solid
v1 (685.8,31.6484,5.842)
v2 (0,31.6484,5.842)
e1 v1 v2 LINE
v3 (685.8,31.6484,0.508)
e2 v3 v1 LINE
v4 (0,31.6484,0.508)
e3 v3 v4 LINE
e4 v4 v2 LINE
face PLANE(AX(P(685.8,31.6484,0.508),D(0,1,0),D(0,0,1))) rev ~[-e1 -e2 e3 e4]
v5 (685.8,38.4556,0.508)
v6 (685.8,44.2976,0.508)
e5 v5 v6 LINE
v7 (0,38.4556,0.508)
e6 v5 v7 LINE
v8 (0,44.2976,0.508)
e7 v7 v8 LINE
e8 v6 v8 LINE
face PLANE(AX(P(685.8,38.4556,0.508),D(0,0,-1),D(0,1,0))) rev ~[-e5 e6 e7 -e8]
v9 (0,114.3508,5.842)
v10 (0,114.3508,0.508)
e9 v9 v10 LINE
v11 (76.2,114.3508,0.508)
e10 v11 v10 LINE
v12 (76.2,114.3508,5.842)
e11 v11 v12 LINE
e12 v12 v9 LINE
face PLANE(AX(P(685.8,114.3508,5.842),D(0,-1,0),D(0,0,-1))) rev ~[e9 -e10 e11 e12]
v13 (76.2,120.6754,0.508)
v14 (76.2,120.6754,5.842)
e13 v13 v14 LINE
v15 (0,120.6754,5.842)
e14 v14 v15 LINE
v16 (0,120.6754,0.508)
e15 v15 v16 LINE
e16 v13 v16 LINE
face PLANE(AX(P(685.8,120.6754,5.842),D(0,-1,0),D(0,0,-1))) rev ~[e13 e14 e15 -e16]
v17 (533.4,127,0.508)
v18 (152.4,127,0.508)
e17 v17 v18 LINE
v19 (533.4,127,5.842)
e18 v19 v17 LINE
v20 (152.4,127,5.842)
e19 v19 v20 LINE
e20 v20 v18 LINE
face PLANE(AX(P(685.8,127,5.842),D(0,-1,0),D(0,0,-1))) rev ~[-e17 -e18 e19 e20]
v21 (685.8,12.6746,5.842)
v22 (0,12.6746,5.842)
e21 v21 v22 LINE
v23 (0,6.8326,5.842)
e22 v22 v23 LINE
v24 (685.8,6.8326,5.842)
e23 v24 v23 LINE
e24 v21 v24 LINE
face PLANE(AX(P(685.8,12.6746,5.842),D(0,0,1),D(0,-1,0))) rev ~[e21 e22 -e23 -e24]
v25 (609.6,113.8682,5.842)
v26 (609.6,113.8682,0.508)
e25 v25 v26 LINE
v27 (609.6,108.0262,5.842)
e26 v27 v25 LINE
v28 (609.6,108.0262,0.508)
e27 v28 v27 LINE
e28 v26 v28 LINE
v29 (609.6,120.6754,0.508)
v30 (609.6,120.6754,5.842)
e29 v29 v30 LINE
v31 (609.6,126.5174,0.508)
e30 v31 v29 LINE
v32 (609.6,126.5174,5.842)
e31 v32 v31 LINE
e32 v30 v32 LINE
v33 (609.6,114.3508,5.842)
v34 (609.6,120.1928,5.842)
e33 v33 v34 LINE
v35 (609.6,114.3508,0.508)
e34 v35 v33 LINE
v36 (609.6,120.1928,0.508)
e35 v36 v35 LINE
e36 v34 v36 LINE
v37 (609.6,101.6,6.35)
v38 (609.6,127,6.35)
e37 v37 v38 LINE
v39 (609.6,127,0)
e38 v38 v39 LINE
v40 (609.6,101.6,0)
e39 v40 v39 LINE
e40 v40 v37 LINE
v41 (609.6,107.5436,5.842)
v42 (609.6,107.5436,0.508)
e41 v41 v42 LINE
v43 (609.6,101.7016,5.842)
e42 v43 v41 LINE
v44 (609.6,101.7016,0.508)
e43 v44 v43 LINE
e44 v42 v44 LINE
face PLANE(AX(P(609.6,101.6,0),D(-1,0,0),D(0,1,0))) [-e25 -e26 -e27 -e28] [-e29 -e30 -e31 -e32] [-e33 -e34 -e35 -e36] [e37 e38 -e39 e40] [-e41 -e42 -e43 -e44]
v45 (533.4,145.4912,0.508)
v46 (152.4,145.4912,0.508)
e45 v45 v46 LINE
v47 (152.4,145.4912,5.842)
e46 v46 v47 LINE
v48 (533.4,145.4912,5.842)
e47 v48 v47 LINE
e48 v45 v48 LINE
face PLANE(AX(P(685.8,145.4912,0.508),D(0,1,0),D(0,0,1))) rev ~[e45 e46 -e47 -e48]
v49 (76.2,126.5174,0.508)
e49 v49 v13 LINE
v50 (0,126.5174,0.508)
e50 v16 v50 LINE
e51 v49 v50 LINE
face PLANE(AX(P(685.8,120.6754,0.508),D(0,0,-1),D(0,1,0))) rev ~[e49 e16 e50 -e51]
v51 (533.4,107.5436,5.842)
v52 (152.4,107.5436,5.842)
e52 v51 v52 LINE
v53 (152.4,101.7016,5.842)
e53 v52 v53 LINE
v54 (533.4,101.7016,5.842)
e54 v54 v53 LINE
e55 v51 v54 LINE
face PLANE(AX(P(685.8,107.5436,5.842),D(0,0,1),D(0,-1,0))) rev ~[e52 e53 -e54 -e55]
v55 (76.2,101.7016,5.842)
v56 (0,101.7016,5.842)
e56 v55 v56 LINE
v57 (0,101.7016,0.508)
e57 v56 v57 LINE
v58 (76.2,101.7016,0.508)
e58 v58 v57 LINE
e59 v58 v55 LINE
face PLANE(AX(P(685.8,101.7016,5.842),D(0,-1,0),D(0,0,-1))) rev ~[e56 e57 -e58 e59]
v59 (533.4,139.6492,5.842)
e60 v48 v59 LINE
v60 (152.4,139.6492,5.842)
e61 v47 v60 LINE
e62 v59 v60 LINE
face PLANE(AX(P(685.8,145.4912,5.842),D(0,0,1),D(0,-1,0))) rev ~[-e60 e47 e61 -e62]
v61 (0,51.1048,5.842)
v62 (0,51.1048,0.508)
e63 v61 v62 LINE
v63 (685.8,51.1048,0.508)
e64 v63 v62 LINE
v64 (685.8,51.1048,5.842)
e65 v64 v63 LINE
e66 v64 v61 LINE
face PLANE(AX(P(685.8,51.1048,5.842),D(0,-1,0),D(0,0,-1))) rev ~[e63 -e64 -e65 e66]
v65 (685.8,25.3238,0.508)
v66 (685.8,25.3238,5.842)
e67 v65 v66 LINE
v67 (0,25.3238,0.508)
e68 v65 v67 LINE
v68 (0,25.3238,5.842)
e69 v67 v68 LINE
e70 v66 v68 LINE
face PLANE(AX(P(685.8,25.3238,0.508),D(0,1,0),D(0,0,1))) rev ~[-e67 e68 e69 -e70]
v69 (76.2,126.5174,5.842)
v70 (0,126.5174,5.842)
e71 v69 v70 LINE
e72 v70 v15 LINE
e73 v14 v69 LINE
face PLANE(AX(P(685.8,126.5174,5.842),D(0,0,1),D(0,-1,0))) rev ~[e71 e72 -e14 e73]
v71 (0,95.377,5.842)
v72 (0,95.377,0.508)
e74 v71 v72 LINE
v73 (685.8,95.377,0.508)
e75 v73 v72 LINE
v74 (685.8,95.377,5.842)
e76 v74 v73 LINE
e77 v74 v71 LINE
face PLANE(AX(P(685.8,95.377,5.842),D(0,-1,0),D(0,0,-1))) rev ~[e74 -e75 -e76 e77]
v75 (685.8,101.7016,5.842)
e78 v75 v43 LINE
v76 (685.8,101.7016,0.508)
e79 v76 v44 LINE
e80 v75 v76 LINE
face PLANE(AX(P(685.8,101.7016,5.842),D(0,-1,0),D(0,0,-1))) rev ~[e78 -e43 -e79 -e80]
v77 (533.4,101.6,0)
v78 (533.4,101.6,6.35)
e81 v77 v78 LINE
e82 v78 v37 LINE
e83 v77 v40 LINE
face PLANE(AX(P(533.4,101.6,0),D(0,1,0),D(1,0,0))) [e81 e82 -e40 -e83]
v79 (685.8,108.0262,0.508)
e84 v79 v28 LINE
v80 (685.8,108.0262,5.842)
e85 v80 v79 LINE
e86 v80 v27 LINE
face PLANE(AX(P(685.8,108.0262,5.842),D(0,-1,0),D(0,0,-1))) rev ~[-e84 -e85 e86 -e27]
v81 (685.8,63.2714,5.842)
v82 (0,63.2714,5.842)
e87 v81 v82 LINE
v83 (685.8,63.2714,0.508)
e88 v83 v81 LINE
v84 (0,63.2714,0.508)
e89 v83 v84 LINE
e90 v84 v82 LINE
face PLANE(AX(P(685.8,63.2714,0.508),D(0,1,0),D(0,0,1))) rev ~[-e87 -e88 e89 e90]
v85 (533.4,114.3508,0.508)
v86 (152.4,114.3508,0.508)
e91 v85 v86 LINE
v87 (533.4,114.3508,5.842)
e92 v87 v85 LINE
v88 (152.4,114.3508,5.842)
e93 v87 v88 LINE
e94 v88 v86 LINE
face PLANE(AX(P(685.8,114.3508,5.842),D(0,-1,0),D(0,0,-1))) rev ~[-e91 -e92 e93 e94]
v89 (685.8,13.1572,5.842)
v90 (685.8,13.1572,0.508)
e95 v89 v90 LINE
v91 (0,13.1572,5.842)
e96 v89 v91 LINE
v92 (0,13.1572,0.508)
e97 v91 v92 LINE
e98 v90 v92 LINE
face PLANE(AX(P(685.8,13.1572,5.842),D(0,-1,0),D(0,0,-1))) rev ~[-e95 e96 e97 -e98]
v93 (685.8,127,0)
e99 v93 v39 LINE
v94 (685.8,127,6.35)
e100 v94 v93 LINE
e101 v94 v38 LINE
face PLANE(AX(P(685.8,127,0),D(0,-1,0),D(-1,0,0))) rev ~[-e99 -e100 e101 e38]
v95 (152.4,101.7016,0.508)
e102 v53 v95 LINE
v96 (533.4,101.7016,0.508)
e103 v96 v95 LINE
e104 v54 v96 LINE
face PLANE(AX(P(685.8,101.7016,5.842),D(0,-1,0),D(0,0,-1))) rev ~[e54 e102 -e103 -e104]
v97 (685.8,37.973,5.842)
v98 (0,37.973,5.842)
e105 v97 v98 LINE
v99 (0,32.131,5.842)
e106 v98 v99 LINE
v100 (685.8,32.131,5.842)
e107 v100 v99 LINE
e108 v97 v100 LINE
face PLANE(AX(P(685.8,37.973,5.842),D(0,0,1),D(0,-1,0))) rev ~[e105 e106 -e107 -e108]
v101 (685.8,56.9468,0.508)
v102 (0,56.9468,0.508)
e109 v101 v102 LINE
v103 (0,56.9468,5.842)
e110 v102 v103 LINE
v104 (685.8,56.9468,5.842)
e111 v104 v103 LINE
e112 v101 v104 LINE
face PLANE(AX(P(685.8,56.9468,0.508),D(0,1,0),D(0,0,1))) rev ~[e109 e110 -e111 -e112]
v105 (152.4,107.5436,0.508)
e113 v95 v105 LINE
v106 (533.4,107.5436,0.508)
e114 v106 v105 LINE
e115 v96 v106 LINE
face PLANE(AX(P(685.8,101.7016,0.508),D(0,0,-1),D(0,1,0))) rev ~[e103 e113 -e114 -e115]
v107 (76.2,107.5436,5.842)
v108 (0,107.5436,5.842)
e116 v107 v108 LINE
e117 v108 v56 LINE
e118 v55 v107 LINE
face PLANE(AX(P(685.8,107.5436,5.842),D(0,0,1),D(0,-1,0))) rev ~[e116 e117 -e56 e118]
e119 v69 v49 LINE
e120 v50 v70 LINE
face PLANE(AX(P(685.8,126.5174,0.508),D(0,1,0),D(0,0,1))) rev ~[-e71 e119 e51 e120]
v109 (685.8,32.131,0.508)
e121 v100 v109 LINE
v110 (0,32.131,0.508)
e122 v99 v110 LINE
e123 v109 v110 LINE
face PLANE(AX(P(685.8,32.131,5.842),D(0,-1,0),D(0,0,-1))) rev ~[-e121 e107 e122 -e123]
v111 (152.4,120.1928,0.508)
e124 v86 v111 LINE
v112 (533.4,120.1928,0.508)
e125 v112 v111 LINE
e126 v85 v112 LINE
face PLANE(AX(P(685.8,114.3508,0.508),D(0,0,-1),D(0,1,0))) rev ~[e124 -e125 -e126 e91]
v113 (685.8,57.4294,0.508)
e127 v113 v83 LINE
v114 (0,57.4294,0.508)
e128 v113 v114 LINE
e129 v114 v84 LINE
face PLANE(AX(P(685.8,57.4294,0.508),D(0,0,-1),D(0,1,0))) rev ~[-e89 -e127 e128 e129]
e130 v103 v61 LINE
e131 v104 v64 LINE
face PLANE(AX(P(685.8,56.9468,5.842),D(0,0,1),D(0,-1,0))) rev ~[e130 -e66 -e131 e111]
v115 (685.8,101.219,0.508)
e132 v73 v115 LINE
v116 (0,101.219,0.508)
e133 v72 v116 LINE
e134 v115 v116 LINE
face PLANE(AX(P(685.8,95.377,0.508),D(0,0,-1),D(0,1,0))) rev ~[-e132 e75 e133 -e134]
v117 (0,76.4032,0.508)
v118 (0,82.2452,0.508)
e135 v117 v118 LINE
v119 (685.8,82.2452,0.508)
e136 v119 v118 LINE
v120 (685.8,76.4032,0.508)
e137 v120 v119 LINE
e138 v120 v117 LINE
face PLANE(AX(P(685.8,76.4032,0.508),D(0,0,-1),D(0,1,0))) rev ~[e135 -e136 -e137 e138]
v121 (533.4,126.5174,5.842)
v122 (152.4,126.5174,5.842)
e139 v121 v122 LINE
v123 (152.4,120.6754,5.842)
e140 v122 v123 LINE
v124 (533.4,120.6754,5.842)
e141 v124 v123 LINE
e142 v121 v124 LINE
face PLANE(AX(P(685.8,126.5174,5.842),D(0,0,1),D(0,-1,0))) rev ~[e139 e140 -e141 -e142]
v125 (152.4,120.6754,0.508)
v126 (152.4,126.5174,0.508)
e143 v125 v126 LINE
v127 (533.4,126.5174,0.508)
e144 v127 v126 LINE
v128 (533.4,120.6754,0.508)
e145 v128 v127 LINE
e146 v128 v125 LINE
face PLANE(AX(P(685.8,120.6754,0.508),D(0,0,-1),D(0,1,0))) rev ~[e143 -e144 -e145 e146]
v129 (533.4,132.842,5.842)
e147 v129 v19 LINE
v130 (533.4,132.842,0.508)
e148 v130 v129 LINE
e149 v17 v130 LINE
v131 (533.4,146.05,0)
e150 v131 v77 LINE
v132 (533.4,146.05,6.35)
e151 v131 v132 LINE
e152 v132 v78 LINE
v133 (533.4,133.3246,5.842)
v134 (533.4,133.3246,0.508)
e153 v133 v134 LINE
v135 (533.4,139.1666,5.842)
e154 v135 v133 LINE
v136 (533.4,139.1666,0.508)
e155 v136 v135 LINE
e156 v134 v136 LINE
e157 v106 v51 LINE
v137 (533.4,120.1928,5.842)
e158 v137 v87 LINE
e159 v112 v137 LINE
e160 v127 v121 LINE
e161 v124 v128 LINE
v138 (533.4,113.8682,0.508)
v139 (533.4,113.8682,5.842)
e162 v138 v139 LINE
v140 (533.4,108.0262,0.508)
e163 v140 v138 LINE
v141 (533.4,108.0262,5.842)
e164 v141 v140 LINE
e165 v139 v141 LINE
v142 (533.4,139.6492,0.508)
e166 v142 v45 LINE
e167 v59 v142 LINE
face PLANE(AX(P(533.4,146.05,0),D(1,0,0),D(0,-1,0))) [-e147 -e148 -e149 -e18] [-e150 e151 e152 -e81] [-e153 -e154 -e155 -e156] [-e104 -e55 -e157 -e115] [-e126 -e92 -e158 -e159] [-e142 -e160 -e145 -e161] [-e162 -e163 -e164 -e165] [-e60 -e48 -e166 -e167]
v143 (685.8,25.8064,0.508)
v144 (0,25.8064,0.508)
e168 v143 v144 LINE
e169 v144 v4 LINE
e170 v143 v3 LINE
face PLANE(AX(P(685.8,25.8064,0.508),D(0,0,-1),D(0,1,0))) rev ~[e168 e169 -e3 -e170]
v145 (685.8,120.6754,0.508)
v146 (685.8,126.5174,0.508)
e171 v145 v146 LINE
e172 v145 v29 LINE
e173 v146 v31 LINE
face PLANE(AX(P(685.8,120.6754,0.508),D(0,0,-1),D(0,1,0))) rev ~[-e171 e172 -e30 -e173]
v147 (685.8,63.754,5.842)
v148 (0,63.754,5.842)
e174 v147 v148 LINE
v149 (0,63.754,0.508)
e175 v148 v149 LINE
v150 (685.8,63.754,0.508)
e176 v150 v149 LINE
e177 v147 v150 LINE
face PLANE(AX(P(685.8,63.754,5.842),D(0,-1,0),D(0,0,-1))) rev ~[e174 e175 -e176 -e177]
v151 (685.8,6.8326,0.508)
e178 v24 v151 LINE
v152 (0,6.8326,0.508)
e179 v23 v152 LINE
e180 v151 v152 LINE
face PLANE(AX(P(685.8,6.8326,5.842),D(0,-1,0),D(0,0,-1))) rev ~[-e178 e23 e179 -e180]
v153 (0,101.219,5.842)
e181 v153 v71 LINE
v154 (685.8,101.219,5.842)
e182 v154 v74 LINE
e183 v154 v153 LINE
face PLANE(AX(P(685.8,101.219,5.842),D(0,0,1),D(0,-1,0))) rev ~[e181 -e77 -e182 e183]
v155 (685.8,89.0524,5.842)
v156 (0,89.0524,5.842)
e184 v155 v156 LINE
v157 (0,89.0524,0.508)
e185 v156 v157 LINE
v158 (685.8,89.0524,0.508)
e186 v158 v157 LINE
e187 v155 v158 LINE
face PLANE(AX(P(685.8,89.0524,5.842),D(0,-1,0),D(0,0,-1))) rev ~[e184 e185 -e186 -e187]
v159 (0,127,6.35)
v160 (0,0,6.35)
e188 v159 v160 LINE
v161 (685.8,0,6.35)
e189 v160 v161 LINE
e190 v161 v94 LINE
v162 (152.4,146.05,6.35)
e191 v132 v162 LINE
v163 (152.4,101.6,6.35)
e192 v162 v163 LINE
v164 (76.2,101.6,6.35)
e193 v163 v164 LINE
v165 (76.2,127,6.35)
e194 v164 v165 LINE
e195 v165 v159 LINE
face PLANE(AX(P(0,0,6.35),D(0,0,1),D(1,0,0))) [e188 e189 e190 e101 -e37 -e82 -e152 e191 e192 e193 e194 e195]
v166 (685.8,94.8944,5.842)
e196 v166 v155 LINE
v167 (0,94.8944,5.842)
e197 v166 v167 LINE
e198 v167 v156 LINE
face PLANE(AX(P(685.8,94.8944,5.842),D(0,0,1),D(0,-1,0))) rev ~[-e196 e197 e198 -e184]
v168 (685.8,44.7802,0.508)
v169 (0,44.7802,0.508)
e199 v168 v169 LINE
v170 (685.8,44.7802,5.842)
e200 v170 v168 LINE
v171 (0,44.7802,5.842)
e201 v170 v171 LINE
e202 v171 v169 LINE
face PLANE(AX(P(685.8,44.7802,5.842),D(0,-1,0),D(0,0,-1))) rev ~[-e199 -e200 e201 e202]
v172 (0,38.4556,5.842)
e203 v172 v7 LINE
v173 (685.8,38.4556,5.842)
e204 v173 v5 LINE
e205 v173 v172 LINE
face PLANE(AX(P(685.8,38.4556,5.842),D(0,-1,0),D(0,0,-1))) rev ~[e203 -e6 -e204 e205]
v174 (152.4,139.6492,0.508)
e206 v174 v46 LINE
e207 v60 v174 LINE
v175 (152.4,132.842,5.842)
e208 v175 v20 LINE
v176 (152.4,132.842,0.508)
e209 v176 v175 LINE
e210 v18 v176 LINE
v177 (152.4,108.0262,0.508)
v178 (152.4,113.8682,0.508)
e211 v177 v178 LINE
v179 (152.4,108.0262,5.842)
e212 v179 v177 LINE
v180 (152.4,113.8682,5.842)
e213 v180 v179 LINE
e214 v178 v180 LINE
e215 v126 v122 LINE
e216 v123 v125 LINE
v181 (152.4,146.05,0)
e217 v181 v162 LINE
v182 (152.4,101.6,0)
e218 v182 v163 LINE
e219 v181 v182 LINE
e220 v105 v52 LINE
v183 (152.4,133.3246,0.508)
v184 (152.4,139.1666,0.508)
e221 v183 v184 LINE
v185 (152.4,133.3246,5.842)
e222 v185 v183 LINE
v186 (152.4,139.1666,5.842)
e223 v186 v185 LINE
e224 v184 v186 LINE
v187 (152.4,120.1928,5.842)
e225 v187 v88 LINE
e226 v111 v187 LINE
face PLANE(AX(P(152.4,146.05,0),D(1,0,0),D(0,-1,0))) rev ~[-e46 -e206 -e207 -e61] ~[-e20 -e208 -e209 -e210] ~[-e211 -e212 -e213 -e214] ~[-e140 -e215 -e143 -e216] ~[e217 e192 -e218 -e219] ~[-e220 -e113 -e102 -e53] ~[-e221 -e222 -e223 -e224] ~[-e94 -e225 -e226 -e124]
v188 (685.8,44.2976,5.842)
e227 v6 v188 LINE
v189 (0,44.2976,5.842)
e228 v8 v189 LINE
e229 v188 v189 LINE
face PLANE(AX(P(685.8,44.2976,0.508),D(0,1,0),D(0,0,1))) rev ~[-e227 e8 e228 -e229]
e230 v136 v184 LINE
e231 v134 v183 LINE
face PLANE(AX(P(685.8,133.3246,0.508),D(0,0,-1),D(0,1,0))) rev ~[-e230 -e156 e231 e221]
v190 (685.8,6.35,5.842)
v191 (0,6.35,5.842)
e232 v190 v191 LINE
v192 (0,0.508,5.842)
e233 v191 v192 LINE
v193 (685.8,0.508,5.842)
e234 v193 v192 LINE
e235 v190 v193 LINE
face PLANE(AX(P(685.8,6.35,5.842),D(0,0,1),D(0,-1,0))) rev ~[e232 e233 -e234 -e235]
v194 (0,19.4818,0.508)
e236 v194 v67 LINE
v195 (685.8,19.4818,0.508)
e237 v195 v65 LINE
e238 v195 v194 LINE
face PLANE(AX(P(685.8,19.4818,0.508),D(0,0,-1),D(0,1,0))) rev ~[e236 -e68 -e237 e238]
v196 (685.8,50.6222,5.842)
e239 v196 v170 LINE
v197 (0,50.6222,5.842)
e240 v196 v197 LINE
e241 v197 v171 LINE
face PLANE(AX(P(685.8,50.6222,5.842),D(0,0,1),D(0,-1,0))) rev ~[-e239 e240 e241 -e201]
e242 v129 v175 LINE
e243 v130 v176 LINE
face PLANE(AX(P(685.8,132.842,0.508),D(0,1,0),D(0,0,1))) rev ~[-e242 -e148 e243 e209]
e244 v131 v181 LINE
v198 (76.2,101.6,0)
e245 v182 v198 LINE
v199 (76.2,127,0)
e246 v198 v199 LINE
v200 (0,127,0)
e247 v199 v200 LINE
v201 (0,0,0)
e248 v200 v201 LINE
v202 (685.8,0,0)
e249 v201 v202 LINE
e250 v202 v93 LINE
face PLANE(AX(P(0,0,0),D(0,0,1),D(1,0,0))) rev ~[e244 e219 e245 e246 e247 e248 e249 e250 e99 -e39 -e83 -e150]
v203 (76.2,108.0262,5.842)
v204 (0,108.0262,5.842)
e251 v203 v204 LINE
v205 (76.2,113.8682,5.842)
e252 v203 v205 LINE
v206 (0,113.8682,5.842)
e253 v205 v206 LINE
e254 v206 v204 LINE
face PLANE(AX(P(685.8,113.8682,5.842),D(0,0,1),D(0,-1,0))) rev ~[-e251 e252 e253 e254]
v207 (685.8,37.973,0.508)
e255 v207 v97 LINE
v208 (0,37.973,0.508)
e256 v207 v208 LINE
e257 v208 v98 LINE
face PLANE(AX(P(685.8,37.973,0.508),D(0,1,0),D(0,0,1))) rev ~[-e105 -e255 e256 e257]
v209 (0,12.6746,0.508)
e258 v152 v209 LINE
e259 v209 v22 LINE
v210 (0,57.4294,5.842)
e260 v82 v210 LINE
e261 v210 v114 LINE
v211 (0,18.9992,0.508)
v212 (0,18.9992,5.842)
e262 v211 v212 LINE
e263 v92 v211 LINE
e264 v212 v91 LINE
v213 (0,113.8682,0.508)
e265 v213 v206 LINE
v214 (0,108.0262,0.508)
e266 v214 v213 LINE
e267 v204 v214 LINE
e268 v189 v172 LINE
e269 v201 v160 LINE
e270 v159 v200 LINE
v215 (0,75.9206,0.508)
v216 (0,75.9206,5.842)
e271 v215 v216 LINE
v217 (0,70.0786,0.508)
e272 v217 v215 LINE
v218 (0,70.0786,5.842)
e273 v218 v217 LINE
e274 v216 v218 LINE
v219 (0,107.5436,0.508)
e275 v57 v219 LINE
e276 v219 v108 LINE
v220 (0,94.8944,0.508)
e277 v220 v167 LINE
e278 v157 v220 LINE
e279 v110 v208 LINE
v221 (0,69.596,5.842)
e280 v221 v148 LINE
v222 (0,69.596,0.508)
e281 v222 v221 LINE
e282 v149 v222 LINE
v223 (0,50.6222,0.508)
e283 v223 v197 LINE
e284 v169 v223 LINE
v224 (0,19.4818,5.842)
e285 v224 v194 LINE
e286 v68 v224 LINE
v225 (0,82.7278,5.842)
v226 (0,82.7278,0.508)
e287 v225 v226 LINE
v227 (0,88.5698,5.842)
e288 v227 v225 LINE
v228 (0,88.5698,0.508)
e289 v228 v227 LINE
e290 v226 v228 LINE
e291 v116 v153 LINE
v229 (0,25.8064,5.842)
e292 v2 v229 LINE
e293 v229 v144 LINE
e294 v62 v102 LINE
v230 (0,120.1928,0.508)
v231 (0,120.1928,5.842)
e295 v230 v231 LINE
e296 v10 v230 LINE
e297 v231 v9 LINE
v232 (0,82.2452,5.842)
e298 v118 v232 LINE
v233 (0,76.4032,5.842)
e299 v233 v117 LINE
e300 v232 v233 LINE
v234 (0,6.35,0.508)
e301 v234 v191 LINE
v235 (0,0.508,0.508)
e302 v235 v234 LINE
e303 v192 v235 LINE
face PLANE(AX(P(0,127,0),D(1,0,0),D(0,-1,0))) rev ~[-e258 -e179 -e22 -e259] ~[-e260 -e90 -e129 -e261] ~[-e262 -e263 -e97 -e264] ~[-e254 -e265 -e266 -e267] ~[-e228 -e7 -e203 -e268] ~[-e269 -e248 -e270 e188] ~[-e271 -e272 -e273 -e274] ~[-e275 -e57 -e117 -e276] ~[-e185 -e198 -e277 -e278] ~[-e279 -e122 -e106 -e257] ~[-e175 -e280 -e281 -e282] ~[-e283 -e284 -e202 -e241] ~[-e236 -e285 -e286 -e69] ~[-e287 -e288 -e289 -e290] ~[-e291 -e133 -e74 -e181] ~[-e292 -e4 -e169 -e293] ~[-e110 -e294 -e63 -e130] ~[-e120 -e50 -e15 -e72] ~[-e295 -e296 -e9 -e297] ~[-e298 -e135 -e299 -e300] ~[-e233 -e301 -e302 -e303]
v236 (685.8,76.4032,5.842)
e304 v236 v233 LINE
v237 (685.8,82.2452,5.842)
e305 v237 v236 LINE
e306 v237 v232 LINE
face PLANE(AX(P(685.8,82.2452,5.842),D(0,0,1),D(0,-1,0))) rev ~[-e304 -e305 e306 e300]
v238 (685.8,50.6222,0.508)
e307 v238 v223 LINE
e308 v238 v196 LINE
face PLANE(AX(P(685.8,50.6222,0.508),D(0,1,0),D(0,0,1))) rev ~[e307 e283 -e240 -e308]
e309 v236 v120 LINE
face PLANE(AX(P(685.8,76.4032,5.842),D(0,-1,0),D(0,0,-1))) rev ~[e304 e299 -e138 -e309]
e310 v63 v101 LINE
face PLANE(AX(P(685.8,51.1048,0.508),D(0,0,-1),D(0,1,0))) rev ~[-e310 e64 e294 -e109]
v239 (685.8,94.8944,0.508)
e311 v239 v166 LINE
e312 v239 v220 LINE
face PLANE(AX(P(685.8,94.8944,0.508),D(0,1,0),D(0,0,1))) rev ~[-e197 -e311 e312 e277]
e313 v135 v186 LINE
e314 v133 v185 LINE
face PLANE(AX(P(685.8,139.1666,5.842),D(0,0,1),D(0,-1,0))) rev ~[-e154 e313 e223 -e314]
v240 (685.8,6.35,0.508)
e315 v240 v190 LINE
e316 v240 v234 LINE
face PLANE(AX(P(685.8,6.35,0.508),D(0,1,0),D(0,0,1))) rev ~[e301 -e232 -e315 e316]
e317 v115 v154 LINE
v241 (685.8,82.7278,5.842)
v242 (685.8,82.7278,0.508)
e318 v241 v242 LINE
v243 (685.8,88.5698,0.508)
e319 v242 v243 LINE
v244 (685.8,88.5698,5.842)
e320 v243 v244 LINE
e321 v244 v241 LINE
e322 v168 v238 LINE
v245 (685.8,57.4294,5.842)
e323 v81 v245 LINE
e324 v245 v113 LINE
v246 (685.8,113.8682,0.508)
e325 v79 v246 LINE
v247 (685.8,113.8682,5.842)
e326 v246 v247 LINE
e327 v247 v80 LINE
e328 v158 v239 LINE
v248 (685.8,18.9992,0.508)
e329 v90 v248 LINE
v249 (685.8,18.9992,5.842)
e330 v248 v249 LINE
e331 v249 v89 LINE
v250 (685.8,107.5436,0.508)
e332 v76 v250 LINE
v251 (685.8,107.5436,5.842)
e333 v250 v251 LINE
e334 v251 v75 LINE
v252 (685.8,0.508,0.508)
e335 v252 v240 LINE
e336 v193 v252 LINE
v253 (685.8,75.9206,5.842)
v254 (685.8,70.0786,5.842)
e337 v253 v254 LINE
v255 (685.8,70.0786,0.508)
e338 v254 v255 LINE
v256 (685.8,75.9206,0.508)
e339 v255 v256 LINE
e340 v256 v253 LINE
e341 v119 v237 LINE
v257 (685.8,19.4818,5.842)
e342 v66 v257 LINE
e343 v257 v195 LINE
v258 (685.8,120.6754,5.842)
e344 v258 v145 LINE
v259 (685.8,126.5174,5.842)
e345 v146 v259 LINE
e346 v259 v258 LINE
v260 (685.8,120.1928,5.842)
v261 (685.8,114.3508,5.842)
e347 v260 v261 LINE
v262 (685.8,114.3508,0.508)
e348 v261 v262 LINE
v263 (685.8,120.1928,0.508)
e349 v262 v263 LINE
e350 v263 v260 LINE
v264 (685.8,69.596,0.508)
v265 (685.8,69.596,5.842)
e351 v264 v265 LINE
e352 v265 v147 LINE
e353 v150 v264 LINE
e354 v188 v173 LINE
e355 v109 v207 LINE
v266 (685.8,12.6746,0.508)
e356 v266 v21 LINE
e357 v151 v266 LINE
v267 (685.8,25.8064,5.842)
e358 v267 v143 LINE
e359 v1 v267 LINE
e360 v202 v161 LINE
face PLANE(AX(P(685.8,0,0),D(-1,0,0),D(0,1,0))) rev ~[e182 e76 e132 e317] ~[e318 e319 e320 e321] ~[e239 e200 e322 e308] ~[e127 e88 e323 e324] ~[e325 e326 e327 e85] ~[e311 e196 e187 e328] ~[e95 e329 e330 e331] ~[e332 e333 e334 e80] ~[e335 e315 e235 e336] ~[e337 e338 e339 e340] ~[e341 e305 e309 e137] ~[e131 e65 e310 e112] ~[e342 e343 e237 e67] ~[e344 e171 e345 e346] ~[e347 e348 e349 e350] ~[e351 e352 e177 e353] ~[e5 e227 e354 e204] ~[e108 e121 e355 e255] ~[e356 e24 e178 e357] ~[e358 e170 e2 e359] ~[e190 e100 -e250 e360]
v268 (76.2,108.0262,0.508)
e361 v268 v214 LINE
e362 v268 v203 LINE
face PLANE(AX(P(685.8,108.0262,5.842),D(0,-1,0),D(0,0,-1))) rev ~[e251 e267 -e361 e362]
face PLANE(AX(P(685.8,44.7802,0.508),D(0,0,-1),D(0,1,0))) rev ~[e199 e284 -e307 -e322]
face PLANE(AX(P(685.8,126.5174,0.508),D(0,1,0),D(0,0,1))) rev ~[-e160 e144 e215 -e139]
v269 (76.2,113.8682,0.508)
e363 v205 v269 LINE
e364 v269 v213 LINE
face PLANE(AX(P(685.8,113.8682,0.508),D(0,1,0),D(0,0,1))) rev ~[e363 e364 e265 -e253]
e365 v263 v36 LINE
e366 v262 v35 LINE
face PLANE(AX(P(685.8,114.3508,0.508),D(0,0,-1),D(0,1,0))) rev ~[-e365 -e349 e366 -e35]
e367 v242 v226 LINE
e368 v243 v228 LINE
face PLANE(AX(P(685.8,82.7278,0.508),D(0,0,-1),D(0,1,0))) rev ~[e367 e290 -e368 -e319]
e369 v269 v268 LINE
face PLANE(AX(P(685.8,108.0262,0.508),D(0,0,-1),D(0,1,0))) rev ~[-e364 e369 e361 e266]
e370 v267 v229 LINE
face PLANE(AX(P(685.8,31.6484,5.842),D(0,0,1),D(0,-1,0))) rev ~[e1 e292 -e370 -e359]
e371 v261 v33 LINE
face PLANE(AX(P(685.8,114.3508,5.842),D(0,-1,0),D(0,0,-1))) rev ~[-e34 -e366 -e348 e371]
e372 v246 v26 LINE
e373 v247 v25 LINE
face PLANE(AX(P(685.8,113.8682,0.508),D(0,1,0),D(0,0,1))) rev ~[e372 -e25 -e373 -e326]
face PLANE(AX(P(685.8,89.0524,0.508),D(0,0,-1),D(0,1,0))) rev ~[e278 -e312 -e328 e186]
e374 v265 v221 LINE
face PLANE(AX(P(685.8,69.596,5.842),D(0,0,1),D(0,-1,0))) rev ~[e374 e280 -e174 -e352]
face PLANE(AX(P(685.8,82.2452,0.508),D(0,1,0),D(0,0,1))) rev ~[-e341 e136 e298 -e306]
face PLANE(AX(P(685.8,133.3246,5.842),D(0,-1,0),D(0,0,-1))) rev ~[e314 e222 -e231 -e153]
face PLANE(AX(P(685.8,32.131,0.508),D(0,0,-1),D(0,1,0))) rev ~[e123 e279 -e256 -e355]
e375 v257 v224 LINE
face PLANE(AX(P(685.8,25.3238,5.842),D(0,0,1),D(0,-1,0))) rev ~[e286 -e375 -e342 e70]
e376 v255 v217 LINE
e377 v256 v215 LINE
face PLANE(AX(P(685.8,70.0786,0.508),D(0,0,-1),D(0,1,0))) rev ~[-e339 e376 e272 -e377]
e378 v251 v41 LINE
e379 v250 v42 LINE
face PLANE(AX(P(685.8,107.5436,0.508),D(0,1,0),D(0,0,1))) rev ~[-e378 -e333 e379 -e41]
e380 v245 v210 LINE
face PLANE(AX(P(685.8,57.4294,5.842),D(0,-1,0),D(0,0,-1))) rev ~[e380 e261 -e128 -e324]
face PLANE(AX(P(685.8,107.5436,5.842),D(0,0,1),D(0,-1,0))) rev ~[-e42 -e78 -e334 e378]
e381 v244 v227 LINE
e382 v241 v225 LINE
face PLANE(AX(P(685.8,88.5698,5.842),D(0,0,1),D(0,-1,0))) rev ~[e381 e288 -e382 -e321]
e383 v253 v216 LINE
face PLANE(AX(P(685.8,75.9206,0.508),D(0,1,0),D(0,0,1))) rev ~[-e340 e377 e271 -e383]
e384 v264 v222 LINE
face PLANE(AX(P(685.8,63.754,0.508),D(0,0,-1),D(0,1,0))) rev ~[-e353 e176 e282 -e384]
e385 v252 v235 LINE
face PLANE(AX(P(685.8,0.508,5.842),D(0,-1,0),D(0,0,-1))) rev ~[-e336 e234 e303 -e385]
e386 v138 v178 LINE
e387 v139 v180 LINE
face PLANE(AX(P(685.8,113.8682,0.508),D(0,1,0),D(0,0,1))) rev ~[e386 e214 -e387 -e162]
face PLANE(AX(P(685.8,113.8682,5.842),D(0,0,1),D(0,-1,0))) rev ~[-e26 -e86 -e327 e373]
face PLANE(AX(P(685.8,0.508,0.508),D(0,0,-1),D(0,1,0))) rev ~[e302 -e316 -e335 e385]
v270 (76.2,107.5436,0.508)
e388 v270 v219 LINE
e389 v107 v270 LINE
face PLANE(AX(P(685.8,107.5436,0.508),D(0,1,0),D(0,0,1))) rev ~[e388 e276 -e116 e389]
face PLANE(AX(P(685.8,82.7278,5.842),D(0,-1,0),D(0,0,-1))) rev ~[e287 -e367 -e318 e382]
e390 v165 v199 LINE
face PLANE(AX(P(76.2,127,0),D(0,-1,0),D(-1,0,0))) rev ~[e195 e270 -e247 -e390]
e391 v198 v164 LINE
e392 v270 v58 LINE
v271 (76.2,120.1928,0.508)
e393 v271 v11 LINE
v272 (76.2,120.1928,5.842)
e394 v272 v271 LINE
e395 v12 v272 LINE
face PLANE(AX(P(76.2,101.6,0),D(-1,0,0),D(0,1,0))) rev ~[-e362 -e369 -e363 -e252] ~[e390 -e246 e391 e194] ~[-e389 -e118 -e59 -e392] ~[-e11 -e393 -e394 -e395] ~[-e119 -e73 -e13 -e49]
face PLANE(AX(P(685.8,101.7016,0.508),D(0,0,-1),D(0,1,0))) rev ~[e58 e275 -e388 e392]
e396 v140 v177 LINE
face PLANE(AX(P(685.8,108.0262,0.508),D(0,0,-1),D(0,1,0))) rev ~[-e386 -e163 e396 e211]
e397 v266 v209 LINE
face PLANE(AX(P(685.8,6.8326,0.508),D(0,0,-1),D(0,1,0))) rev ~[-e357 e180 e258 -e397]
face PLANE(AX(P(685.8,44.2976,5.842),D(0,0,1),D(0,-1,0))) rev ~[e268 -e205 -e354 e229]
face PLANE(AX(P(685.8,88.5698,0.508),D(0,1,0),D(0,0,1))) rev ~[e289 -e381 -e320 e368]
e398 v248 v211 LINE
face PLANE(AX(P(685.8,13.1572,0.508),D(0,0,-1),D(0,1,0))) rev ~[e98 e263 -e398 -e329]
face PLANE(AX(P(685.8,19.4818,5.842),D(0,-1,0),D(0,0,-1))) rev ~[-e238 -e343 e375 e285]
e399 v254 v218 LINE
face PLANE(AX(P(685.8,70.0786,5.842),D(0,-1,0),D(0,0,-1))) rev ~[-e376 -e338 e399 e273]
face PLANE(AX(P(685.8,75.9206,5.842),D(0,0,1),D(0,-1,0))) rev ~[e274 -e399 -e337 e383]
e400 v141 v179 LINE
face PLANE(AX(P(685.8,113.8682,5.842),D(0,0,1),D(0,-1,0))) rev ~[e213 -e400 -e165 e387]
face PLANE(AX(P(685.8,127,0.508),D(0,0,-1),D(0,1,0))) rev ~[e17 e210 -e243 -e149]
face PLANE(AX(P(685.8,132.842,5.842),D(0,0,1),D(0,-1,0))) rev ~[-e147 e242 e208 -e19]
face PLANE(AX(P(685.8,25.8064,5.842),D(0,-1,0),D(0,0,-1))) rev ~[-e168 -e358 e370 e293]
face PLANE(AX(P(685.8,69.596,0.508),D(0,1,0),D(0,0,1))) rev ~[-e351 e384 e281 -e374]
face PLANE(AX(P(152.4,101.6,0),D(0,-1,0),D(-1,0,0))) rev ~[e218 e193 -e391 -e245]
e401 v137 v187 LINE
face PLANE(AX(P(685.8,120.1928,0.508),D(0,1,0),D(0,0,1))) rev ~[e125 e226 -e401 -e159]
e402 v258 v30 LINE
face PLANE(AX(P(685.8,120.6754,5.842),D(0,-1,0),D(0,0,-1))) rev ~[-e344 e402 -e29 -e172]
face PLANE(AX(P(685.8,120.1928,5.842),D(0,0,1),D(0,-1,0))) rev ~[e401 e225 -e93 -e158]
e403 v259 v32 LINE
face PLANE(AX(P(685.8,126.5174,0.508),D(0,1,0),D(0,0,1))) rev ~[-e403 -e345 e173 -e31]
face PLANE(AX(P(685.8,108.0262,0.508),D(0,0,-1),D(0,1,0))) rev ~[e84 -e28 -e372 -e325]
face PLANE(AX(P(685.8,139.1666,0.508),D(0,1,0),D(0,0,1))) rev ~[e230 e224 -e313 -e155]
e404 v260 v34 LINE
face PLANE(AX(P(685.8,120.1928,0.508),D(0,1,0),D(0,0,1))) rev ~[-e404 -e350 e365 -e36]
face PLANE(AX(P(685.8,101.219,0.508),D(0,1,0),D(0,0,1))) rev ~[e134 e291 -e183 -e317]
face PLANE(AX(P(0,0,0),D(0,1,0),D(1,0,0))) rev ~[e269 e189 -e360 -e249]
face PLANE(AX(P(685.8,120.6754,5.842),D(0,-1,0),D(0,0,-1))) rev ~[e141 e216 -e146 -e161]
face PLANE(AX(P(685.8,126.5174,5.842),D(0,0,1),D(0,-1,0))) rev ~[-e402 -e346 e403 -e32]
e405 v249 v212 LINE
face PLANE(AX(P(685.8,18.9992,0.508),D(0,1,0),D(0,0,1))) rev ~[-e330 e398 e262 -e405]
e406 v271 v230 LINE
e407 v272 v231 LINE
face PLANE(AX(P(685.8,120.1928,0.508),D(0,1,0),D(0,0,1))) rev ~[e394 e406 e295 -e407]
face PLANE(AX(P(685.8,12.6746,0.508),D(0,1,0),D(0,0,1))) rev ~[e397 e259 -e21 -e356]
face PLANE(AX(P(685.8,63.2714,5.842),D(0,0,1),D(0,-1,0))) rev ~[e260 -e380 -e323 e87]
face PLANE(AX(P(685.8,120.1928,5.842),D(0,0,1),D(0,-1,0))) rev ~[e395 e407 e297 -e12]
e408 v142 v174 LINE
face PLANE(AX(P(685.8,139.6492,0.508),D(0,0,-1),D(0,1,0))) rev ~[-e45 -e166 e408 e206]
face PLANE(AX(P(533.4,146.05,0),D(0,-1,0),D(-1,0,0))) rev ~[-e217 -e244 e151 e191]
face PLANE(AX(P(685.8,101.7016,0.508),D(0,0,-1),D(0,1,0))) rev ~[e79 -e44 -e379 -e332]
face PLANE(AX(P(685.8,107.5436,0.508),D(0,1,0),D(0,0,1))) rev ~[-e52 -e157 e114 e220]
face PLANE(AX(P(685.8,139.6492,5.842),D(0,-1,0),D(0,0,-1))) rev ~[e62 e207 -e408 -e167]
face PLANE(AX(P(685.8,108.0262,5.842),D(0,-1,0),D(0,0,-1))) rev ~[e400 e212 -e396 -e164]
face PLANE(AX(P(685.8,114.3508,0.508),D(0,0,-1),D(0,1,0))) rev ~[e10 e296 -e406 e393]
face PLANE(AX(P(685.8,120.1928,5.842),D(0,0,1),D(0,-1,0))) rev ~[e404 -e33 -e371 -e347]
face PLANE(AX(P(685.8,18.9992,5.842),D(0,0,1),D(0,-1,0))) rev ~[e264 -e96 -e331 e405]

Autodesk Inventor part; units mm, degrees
ref_plane "YZ Plane" through (0, 0, 0) normal (1, 0, 0) x (0, 1, 0)
ref_plane "XZ Plane" through (0, 0, 0) normal (0, 1, 0) x (-1, 0, 0)
ref_plane "XY Plane" through (0, 0, 0) normal (0, 0, 1) x (1, 0, 0)
sketch "Sketch1" plane through (0, 0, 0) normal (0, 0, 1) x (1, 0, 0)
  line L0 (0, 0) -> (685.8, 0)
  line L1 (685.8, 0) -> (685.8, 127)
  line L2 (0, 127) -> (0, 0)
  line L3 (152.4, 146.05) -> (152.4, 101.6)
  line L4 (152.4, 101.6) -> (76.2, 101.6)
  line L5 (76.2, 101.6) -> (76.2, 127)
  line L6 (533.4, 146.05) -> (533.4, 101.6)
  line L7 (533.4, 101.6) -> (609.6, 101.6)
  line L8 (609.6, 101.6) -> (609.6, 127)
  line L9 (76.2, 127) -> (0, 127)
  line L10 (685.8, 127) -> (609.6, 127)
  line L11 (533.4, 146.05) -> (152.4, 146.05)
  dimension "d0" = 127
  dimension "d1" = 685.8
  dimension "d4" = 76.2
  dimension "d6" = 76.2
  dimension "d7" = 76.2
  dimension "d8" = 76.2
  dimension "d10" = 25.4
  dimension "d11" = 44.45
  dimension "d12" = 25.4
extrude "Extrusion1" add sketch "Sketch1" along normal blind 6.35
sketch "Sketch2" plane through (685.8, 0, 0) normal (1, 0, 0) x (0, 0, -1)
  line L0 (-6.35, 127) -> (-6.35, 0) projected
  line L1 (0, 0) -> (-6.35, 0) projected
  line L2 (-5.842, 0.508) -> (-0.508, 0.508)
  line L3 (-0.508, 0.508) -> (-0.508, 6.35)
  line L4 (-0.508, 6.35) -> (-5.842, 6.35)
  line L5 (-5.842, 6.35) -> (-5.842, 0.508)
  line L6 (-5.842, 6.8326) -> (-0.508, 6.8326)
  line L7 (-0.508, 6.8326) -> (-0.508, 12.6746)
  line L8 (-0.508, 12.6746) -> (-5.842, 12.6746)
  line L9 (-5.842, 12.6746) -> (-5.842, 6.8326)
  line L10 (-5.842, 13.1572) -> (-0.508, 13.1572)
  line L11 (-0.508, 13.1572) -> (-0.508, 18.9992)
  line L12 (-0.508, 18.9992) -> (-5.842, 18.9992)
  line L13 (-5.842, 18.9992) -> (-5.842, 13.1572)
  line L14 (-5.842, 19.4818) -> (-0.508, 19.4818)
  line L15 (-0.508, 19.4818) -> (-0.508, 25.3238)
  line L16 (-0.508, 25.3238) -> (-5.842, 25.3238)
  line L17 (-5.842, 25.3238) -> (-5.842, 19.4818)
  line L18 (-5.842, 25.8064) -> (-0.508, 25.8064)
  line L19 (-0.508, 25.8064) -> (-0.508, 31.6484)
  line L20 (-0.508, 31.6484) -> (-5.842, 31.6484)
  line L21 (-5.842, 31.6484) -> (-5.842, 25.8064)
  line L22 (-5.842, 32.131) -> (-0.508, 32.131)
  line L23 (-0.508, 32.131) -> (-0.508, 37.973)
  line L24 (-0.508, 37.973) -> (-5.842, 37.973)
  line L25 (-5.842, 37.973) -> (-5.842, 32.131)
  line L26 (-5.842, 38.4556) -> (-0.508, 38.4556)
  line L27 (-0.508, 38.4556) -> (-0.508, 44.2976)
  line L28 (-0.508, 44.2976) -> (-5.842, 44.2976)
  line L29 (-5.842, 44.2976) -> (-5.842, 38.4556)
  line L30 (-5.842, 44.7802) -> (-0.508, 44.7802)
  line L31 (-0.508, 44.7802) -> (-0.508, 50.6222)
  line L32 (-0.508, 50.6222) -> (-5.842, 50.6222)
  line L33 (-5.842, 50.6222) -> (-5.842, 44.7802)
  line L34 (-5.842, 51.1048) -> (-0.508, 51.1048)
  line L35 (-0.508, 51.1048) -> (-0.508, 56.9468)
  line L36 (-0.508, 56.9468) -> (-5.842, 56.9468)
  line L37 (-5.842, 56.9468) -> (-5.842, 51.1048)
  line L38 (-5.842, 57.4294) -> (-0.508, 57.4294)
  line L39 (-0.508, 57.4294) -> (-0.508, 63.2714)
  line L40 (-0.508, 63.2714) -> (-5.842, 63.2714)
  line L41 (-5.842, 63.2714) -> (-5.842, 57.4294)
  line L42 (-5.842, 63.754) -> (-0.508, 63.754)
  line L43 (-0.508, 63.754) -> (-0.508, 69.596)
  line L44 (-0.508, 69.596) -> (-5.842, 69.596)
  line L45 (-5.842, 69.596) -> (-5.842, 63.754)
  line L46 (-5.842, 70.0786) -> (-0.508, 70.0786)
  line L47 (-0.508, 70.0786) -> (-0.508, 75.9206)
  line L48 (-0.508, 75.9206) -> (-5.842, 75.9206)
  line L49 (-5.842, 75.9206) -> (-5.842, 70.0786)
  line L50 (-5.842, 76.4032) -> (-0.508, 76.4032)
  line L51 (-0.508, 76.4032) -> (-0.508, 82.2452)
  line L52 (-0.508, 82.2452) -> (-5.842, 82.2452)
  line L53 (-5.842, 82.2452) -> (-5.842, 76.4032)
  line L54 (-5.842, 82.7278) -> (-0.508, 82.7278)
  line L55 (-0.508, 82.7278) -> (-0.508, 88.5698)
  line L56 (-0.508, 88.5698) -> (-5.842, 88.5698)
  line L57 (-5.842, 88.5698) -> (-5.842, 82.7278)
  line L58 (-5.842, 89.0524) -> (-0.508, 89.0524)
  line L59 (-0.508, 89.0524) -> (-0.508, 94.8944)
  line L60 (-0.508, 94.8944) -> (-5.842, 94.8944)
  line L61 (-5.842, 94.8944) -> (-5.842, 89.0524)
  line L62 (-5.842, 95.377) -> (-0.508, 95.377)
  line L63 (-0.508, 95.377) -> (-0.508, 101.219)
  line L64 (-0.508, 101.219) -> (-5.842, 101.219)
  line L65 (-5.842, 101.219) -> (-5.842, 95.377)
  line L66 (-5.842, 101.7016) -> (-0.508, 101.7016)
  line L67 (-0.508, 101.7016) -> (-0.508, 107.5436)
  line L68 (-0.508, 107.5436) -> (-5.842, 107.5436)
  line L69 (-5.842, 107.5436) -> (-5.842, 101.7016)
  line L70 (-5.842, 108.0262) -> (-0.508, 108.0262)
  line L71 (-0.508, 108.0262) -> (-0.508, 113.8682)
  line L72 (-0.508, 113.8682) -> (-5.842, 113.8682)
  line L73 (-5.842, 113.8682) -> (-5.842, 108.0262)
  line L74 (-5.842, 114.3508) -> (-0.508, 114.3508)
  line L75 (-0.508, 114.3508) -> (-0.508, 120.1928)
  line L76 (-0.508, 120.1928) -> (-5.842, 120.1928)
  line L77 (-5.842, 120.1928) -> (-5.842, 114.3508)
  line L78 (-5.842, 120.6754) -> (-0.508, 120.6754)
  line L79 (-0.508, 120.6754) -> (-0.508, 126.5174)
  line L80 (-0.508, 126.5174) -> (-5.842, 126.5174)
  line L81 (-5.842, 126.5174) -> (-5.842, 120.6754)
  line L82 (-5.842, 127) -> (-0.508, 127)
  line L83 (-0.508, 127) -> (-0.508, 132.842)
  line L84 (-0.508, 132.842) -> (-5.842, 132.842)
  line L85 (-5.842, 132.842) -> (-5.842, 127)
  line L86 (-5.842, 133.3246) -> (-0.508, 133.3246)
  line L87 (-0.508, 133.3246) -> (-0.508, 139.1666)
  line L88 (-0.508, 139.1666) -> (-5.842, 139.1666)
  line L89 (-5.842, 139.1666) -> (-5.842, 133.3246)
  line L90 (-5.842, 139.6492) -> (-0.508, 139.6492)
  line L91 (-0.508, 139.6492) -> (-0.508, 145.4912)
  line L92 (-0.508, 145.4912) -> (-5.842, 145.4912)
  line L93 (-5.842, 145.4912) -> (-5.842, 139.6492)
  dimension "d13" = 5.334
  dimension "d14" = 5.842
  dimension "d15" = 0.508
  dimension "d16" = 0.508
  dimension "d19" = 6.3246
extrude "Extrusion2" cut sketch "Sketch2" against normal through all
equation "\"d7\" = d6"
equation "\"d8\" = d4"
equation "\"d14\" = d13 + d15"
equation "\"d16\" = d15"
properties part number "dozer side pannel"
